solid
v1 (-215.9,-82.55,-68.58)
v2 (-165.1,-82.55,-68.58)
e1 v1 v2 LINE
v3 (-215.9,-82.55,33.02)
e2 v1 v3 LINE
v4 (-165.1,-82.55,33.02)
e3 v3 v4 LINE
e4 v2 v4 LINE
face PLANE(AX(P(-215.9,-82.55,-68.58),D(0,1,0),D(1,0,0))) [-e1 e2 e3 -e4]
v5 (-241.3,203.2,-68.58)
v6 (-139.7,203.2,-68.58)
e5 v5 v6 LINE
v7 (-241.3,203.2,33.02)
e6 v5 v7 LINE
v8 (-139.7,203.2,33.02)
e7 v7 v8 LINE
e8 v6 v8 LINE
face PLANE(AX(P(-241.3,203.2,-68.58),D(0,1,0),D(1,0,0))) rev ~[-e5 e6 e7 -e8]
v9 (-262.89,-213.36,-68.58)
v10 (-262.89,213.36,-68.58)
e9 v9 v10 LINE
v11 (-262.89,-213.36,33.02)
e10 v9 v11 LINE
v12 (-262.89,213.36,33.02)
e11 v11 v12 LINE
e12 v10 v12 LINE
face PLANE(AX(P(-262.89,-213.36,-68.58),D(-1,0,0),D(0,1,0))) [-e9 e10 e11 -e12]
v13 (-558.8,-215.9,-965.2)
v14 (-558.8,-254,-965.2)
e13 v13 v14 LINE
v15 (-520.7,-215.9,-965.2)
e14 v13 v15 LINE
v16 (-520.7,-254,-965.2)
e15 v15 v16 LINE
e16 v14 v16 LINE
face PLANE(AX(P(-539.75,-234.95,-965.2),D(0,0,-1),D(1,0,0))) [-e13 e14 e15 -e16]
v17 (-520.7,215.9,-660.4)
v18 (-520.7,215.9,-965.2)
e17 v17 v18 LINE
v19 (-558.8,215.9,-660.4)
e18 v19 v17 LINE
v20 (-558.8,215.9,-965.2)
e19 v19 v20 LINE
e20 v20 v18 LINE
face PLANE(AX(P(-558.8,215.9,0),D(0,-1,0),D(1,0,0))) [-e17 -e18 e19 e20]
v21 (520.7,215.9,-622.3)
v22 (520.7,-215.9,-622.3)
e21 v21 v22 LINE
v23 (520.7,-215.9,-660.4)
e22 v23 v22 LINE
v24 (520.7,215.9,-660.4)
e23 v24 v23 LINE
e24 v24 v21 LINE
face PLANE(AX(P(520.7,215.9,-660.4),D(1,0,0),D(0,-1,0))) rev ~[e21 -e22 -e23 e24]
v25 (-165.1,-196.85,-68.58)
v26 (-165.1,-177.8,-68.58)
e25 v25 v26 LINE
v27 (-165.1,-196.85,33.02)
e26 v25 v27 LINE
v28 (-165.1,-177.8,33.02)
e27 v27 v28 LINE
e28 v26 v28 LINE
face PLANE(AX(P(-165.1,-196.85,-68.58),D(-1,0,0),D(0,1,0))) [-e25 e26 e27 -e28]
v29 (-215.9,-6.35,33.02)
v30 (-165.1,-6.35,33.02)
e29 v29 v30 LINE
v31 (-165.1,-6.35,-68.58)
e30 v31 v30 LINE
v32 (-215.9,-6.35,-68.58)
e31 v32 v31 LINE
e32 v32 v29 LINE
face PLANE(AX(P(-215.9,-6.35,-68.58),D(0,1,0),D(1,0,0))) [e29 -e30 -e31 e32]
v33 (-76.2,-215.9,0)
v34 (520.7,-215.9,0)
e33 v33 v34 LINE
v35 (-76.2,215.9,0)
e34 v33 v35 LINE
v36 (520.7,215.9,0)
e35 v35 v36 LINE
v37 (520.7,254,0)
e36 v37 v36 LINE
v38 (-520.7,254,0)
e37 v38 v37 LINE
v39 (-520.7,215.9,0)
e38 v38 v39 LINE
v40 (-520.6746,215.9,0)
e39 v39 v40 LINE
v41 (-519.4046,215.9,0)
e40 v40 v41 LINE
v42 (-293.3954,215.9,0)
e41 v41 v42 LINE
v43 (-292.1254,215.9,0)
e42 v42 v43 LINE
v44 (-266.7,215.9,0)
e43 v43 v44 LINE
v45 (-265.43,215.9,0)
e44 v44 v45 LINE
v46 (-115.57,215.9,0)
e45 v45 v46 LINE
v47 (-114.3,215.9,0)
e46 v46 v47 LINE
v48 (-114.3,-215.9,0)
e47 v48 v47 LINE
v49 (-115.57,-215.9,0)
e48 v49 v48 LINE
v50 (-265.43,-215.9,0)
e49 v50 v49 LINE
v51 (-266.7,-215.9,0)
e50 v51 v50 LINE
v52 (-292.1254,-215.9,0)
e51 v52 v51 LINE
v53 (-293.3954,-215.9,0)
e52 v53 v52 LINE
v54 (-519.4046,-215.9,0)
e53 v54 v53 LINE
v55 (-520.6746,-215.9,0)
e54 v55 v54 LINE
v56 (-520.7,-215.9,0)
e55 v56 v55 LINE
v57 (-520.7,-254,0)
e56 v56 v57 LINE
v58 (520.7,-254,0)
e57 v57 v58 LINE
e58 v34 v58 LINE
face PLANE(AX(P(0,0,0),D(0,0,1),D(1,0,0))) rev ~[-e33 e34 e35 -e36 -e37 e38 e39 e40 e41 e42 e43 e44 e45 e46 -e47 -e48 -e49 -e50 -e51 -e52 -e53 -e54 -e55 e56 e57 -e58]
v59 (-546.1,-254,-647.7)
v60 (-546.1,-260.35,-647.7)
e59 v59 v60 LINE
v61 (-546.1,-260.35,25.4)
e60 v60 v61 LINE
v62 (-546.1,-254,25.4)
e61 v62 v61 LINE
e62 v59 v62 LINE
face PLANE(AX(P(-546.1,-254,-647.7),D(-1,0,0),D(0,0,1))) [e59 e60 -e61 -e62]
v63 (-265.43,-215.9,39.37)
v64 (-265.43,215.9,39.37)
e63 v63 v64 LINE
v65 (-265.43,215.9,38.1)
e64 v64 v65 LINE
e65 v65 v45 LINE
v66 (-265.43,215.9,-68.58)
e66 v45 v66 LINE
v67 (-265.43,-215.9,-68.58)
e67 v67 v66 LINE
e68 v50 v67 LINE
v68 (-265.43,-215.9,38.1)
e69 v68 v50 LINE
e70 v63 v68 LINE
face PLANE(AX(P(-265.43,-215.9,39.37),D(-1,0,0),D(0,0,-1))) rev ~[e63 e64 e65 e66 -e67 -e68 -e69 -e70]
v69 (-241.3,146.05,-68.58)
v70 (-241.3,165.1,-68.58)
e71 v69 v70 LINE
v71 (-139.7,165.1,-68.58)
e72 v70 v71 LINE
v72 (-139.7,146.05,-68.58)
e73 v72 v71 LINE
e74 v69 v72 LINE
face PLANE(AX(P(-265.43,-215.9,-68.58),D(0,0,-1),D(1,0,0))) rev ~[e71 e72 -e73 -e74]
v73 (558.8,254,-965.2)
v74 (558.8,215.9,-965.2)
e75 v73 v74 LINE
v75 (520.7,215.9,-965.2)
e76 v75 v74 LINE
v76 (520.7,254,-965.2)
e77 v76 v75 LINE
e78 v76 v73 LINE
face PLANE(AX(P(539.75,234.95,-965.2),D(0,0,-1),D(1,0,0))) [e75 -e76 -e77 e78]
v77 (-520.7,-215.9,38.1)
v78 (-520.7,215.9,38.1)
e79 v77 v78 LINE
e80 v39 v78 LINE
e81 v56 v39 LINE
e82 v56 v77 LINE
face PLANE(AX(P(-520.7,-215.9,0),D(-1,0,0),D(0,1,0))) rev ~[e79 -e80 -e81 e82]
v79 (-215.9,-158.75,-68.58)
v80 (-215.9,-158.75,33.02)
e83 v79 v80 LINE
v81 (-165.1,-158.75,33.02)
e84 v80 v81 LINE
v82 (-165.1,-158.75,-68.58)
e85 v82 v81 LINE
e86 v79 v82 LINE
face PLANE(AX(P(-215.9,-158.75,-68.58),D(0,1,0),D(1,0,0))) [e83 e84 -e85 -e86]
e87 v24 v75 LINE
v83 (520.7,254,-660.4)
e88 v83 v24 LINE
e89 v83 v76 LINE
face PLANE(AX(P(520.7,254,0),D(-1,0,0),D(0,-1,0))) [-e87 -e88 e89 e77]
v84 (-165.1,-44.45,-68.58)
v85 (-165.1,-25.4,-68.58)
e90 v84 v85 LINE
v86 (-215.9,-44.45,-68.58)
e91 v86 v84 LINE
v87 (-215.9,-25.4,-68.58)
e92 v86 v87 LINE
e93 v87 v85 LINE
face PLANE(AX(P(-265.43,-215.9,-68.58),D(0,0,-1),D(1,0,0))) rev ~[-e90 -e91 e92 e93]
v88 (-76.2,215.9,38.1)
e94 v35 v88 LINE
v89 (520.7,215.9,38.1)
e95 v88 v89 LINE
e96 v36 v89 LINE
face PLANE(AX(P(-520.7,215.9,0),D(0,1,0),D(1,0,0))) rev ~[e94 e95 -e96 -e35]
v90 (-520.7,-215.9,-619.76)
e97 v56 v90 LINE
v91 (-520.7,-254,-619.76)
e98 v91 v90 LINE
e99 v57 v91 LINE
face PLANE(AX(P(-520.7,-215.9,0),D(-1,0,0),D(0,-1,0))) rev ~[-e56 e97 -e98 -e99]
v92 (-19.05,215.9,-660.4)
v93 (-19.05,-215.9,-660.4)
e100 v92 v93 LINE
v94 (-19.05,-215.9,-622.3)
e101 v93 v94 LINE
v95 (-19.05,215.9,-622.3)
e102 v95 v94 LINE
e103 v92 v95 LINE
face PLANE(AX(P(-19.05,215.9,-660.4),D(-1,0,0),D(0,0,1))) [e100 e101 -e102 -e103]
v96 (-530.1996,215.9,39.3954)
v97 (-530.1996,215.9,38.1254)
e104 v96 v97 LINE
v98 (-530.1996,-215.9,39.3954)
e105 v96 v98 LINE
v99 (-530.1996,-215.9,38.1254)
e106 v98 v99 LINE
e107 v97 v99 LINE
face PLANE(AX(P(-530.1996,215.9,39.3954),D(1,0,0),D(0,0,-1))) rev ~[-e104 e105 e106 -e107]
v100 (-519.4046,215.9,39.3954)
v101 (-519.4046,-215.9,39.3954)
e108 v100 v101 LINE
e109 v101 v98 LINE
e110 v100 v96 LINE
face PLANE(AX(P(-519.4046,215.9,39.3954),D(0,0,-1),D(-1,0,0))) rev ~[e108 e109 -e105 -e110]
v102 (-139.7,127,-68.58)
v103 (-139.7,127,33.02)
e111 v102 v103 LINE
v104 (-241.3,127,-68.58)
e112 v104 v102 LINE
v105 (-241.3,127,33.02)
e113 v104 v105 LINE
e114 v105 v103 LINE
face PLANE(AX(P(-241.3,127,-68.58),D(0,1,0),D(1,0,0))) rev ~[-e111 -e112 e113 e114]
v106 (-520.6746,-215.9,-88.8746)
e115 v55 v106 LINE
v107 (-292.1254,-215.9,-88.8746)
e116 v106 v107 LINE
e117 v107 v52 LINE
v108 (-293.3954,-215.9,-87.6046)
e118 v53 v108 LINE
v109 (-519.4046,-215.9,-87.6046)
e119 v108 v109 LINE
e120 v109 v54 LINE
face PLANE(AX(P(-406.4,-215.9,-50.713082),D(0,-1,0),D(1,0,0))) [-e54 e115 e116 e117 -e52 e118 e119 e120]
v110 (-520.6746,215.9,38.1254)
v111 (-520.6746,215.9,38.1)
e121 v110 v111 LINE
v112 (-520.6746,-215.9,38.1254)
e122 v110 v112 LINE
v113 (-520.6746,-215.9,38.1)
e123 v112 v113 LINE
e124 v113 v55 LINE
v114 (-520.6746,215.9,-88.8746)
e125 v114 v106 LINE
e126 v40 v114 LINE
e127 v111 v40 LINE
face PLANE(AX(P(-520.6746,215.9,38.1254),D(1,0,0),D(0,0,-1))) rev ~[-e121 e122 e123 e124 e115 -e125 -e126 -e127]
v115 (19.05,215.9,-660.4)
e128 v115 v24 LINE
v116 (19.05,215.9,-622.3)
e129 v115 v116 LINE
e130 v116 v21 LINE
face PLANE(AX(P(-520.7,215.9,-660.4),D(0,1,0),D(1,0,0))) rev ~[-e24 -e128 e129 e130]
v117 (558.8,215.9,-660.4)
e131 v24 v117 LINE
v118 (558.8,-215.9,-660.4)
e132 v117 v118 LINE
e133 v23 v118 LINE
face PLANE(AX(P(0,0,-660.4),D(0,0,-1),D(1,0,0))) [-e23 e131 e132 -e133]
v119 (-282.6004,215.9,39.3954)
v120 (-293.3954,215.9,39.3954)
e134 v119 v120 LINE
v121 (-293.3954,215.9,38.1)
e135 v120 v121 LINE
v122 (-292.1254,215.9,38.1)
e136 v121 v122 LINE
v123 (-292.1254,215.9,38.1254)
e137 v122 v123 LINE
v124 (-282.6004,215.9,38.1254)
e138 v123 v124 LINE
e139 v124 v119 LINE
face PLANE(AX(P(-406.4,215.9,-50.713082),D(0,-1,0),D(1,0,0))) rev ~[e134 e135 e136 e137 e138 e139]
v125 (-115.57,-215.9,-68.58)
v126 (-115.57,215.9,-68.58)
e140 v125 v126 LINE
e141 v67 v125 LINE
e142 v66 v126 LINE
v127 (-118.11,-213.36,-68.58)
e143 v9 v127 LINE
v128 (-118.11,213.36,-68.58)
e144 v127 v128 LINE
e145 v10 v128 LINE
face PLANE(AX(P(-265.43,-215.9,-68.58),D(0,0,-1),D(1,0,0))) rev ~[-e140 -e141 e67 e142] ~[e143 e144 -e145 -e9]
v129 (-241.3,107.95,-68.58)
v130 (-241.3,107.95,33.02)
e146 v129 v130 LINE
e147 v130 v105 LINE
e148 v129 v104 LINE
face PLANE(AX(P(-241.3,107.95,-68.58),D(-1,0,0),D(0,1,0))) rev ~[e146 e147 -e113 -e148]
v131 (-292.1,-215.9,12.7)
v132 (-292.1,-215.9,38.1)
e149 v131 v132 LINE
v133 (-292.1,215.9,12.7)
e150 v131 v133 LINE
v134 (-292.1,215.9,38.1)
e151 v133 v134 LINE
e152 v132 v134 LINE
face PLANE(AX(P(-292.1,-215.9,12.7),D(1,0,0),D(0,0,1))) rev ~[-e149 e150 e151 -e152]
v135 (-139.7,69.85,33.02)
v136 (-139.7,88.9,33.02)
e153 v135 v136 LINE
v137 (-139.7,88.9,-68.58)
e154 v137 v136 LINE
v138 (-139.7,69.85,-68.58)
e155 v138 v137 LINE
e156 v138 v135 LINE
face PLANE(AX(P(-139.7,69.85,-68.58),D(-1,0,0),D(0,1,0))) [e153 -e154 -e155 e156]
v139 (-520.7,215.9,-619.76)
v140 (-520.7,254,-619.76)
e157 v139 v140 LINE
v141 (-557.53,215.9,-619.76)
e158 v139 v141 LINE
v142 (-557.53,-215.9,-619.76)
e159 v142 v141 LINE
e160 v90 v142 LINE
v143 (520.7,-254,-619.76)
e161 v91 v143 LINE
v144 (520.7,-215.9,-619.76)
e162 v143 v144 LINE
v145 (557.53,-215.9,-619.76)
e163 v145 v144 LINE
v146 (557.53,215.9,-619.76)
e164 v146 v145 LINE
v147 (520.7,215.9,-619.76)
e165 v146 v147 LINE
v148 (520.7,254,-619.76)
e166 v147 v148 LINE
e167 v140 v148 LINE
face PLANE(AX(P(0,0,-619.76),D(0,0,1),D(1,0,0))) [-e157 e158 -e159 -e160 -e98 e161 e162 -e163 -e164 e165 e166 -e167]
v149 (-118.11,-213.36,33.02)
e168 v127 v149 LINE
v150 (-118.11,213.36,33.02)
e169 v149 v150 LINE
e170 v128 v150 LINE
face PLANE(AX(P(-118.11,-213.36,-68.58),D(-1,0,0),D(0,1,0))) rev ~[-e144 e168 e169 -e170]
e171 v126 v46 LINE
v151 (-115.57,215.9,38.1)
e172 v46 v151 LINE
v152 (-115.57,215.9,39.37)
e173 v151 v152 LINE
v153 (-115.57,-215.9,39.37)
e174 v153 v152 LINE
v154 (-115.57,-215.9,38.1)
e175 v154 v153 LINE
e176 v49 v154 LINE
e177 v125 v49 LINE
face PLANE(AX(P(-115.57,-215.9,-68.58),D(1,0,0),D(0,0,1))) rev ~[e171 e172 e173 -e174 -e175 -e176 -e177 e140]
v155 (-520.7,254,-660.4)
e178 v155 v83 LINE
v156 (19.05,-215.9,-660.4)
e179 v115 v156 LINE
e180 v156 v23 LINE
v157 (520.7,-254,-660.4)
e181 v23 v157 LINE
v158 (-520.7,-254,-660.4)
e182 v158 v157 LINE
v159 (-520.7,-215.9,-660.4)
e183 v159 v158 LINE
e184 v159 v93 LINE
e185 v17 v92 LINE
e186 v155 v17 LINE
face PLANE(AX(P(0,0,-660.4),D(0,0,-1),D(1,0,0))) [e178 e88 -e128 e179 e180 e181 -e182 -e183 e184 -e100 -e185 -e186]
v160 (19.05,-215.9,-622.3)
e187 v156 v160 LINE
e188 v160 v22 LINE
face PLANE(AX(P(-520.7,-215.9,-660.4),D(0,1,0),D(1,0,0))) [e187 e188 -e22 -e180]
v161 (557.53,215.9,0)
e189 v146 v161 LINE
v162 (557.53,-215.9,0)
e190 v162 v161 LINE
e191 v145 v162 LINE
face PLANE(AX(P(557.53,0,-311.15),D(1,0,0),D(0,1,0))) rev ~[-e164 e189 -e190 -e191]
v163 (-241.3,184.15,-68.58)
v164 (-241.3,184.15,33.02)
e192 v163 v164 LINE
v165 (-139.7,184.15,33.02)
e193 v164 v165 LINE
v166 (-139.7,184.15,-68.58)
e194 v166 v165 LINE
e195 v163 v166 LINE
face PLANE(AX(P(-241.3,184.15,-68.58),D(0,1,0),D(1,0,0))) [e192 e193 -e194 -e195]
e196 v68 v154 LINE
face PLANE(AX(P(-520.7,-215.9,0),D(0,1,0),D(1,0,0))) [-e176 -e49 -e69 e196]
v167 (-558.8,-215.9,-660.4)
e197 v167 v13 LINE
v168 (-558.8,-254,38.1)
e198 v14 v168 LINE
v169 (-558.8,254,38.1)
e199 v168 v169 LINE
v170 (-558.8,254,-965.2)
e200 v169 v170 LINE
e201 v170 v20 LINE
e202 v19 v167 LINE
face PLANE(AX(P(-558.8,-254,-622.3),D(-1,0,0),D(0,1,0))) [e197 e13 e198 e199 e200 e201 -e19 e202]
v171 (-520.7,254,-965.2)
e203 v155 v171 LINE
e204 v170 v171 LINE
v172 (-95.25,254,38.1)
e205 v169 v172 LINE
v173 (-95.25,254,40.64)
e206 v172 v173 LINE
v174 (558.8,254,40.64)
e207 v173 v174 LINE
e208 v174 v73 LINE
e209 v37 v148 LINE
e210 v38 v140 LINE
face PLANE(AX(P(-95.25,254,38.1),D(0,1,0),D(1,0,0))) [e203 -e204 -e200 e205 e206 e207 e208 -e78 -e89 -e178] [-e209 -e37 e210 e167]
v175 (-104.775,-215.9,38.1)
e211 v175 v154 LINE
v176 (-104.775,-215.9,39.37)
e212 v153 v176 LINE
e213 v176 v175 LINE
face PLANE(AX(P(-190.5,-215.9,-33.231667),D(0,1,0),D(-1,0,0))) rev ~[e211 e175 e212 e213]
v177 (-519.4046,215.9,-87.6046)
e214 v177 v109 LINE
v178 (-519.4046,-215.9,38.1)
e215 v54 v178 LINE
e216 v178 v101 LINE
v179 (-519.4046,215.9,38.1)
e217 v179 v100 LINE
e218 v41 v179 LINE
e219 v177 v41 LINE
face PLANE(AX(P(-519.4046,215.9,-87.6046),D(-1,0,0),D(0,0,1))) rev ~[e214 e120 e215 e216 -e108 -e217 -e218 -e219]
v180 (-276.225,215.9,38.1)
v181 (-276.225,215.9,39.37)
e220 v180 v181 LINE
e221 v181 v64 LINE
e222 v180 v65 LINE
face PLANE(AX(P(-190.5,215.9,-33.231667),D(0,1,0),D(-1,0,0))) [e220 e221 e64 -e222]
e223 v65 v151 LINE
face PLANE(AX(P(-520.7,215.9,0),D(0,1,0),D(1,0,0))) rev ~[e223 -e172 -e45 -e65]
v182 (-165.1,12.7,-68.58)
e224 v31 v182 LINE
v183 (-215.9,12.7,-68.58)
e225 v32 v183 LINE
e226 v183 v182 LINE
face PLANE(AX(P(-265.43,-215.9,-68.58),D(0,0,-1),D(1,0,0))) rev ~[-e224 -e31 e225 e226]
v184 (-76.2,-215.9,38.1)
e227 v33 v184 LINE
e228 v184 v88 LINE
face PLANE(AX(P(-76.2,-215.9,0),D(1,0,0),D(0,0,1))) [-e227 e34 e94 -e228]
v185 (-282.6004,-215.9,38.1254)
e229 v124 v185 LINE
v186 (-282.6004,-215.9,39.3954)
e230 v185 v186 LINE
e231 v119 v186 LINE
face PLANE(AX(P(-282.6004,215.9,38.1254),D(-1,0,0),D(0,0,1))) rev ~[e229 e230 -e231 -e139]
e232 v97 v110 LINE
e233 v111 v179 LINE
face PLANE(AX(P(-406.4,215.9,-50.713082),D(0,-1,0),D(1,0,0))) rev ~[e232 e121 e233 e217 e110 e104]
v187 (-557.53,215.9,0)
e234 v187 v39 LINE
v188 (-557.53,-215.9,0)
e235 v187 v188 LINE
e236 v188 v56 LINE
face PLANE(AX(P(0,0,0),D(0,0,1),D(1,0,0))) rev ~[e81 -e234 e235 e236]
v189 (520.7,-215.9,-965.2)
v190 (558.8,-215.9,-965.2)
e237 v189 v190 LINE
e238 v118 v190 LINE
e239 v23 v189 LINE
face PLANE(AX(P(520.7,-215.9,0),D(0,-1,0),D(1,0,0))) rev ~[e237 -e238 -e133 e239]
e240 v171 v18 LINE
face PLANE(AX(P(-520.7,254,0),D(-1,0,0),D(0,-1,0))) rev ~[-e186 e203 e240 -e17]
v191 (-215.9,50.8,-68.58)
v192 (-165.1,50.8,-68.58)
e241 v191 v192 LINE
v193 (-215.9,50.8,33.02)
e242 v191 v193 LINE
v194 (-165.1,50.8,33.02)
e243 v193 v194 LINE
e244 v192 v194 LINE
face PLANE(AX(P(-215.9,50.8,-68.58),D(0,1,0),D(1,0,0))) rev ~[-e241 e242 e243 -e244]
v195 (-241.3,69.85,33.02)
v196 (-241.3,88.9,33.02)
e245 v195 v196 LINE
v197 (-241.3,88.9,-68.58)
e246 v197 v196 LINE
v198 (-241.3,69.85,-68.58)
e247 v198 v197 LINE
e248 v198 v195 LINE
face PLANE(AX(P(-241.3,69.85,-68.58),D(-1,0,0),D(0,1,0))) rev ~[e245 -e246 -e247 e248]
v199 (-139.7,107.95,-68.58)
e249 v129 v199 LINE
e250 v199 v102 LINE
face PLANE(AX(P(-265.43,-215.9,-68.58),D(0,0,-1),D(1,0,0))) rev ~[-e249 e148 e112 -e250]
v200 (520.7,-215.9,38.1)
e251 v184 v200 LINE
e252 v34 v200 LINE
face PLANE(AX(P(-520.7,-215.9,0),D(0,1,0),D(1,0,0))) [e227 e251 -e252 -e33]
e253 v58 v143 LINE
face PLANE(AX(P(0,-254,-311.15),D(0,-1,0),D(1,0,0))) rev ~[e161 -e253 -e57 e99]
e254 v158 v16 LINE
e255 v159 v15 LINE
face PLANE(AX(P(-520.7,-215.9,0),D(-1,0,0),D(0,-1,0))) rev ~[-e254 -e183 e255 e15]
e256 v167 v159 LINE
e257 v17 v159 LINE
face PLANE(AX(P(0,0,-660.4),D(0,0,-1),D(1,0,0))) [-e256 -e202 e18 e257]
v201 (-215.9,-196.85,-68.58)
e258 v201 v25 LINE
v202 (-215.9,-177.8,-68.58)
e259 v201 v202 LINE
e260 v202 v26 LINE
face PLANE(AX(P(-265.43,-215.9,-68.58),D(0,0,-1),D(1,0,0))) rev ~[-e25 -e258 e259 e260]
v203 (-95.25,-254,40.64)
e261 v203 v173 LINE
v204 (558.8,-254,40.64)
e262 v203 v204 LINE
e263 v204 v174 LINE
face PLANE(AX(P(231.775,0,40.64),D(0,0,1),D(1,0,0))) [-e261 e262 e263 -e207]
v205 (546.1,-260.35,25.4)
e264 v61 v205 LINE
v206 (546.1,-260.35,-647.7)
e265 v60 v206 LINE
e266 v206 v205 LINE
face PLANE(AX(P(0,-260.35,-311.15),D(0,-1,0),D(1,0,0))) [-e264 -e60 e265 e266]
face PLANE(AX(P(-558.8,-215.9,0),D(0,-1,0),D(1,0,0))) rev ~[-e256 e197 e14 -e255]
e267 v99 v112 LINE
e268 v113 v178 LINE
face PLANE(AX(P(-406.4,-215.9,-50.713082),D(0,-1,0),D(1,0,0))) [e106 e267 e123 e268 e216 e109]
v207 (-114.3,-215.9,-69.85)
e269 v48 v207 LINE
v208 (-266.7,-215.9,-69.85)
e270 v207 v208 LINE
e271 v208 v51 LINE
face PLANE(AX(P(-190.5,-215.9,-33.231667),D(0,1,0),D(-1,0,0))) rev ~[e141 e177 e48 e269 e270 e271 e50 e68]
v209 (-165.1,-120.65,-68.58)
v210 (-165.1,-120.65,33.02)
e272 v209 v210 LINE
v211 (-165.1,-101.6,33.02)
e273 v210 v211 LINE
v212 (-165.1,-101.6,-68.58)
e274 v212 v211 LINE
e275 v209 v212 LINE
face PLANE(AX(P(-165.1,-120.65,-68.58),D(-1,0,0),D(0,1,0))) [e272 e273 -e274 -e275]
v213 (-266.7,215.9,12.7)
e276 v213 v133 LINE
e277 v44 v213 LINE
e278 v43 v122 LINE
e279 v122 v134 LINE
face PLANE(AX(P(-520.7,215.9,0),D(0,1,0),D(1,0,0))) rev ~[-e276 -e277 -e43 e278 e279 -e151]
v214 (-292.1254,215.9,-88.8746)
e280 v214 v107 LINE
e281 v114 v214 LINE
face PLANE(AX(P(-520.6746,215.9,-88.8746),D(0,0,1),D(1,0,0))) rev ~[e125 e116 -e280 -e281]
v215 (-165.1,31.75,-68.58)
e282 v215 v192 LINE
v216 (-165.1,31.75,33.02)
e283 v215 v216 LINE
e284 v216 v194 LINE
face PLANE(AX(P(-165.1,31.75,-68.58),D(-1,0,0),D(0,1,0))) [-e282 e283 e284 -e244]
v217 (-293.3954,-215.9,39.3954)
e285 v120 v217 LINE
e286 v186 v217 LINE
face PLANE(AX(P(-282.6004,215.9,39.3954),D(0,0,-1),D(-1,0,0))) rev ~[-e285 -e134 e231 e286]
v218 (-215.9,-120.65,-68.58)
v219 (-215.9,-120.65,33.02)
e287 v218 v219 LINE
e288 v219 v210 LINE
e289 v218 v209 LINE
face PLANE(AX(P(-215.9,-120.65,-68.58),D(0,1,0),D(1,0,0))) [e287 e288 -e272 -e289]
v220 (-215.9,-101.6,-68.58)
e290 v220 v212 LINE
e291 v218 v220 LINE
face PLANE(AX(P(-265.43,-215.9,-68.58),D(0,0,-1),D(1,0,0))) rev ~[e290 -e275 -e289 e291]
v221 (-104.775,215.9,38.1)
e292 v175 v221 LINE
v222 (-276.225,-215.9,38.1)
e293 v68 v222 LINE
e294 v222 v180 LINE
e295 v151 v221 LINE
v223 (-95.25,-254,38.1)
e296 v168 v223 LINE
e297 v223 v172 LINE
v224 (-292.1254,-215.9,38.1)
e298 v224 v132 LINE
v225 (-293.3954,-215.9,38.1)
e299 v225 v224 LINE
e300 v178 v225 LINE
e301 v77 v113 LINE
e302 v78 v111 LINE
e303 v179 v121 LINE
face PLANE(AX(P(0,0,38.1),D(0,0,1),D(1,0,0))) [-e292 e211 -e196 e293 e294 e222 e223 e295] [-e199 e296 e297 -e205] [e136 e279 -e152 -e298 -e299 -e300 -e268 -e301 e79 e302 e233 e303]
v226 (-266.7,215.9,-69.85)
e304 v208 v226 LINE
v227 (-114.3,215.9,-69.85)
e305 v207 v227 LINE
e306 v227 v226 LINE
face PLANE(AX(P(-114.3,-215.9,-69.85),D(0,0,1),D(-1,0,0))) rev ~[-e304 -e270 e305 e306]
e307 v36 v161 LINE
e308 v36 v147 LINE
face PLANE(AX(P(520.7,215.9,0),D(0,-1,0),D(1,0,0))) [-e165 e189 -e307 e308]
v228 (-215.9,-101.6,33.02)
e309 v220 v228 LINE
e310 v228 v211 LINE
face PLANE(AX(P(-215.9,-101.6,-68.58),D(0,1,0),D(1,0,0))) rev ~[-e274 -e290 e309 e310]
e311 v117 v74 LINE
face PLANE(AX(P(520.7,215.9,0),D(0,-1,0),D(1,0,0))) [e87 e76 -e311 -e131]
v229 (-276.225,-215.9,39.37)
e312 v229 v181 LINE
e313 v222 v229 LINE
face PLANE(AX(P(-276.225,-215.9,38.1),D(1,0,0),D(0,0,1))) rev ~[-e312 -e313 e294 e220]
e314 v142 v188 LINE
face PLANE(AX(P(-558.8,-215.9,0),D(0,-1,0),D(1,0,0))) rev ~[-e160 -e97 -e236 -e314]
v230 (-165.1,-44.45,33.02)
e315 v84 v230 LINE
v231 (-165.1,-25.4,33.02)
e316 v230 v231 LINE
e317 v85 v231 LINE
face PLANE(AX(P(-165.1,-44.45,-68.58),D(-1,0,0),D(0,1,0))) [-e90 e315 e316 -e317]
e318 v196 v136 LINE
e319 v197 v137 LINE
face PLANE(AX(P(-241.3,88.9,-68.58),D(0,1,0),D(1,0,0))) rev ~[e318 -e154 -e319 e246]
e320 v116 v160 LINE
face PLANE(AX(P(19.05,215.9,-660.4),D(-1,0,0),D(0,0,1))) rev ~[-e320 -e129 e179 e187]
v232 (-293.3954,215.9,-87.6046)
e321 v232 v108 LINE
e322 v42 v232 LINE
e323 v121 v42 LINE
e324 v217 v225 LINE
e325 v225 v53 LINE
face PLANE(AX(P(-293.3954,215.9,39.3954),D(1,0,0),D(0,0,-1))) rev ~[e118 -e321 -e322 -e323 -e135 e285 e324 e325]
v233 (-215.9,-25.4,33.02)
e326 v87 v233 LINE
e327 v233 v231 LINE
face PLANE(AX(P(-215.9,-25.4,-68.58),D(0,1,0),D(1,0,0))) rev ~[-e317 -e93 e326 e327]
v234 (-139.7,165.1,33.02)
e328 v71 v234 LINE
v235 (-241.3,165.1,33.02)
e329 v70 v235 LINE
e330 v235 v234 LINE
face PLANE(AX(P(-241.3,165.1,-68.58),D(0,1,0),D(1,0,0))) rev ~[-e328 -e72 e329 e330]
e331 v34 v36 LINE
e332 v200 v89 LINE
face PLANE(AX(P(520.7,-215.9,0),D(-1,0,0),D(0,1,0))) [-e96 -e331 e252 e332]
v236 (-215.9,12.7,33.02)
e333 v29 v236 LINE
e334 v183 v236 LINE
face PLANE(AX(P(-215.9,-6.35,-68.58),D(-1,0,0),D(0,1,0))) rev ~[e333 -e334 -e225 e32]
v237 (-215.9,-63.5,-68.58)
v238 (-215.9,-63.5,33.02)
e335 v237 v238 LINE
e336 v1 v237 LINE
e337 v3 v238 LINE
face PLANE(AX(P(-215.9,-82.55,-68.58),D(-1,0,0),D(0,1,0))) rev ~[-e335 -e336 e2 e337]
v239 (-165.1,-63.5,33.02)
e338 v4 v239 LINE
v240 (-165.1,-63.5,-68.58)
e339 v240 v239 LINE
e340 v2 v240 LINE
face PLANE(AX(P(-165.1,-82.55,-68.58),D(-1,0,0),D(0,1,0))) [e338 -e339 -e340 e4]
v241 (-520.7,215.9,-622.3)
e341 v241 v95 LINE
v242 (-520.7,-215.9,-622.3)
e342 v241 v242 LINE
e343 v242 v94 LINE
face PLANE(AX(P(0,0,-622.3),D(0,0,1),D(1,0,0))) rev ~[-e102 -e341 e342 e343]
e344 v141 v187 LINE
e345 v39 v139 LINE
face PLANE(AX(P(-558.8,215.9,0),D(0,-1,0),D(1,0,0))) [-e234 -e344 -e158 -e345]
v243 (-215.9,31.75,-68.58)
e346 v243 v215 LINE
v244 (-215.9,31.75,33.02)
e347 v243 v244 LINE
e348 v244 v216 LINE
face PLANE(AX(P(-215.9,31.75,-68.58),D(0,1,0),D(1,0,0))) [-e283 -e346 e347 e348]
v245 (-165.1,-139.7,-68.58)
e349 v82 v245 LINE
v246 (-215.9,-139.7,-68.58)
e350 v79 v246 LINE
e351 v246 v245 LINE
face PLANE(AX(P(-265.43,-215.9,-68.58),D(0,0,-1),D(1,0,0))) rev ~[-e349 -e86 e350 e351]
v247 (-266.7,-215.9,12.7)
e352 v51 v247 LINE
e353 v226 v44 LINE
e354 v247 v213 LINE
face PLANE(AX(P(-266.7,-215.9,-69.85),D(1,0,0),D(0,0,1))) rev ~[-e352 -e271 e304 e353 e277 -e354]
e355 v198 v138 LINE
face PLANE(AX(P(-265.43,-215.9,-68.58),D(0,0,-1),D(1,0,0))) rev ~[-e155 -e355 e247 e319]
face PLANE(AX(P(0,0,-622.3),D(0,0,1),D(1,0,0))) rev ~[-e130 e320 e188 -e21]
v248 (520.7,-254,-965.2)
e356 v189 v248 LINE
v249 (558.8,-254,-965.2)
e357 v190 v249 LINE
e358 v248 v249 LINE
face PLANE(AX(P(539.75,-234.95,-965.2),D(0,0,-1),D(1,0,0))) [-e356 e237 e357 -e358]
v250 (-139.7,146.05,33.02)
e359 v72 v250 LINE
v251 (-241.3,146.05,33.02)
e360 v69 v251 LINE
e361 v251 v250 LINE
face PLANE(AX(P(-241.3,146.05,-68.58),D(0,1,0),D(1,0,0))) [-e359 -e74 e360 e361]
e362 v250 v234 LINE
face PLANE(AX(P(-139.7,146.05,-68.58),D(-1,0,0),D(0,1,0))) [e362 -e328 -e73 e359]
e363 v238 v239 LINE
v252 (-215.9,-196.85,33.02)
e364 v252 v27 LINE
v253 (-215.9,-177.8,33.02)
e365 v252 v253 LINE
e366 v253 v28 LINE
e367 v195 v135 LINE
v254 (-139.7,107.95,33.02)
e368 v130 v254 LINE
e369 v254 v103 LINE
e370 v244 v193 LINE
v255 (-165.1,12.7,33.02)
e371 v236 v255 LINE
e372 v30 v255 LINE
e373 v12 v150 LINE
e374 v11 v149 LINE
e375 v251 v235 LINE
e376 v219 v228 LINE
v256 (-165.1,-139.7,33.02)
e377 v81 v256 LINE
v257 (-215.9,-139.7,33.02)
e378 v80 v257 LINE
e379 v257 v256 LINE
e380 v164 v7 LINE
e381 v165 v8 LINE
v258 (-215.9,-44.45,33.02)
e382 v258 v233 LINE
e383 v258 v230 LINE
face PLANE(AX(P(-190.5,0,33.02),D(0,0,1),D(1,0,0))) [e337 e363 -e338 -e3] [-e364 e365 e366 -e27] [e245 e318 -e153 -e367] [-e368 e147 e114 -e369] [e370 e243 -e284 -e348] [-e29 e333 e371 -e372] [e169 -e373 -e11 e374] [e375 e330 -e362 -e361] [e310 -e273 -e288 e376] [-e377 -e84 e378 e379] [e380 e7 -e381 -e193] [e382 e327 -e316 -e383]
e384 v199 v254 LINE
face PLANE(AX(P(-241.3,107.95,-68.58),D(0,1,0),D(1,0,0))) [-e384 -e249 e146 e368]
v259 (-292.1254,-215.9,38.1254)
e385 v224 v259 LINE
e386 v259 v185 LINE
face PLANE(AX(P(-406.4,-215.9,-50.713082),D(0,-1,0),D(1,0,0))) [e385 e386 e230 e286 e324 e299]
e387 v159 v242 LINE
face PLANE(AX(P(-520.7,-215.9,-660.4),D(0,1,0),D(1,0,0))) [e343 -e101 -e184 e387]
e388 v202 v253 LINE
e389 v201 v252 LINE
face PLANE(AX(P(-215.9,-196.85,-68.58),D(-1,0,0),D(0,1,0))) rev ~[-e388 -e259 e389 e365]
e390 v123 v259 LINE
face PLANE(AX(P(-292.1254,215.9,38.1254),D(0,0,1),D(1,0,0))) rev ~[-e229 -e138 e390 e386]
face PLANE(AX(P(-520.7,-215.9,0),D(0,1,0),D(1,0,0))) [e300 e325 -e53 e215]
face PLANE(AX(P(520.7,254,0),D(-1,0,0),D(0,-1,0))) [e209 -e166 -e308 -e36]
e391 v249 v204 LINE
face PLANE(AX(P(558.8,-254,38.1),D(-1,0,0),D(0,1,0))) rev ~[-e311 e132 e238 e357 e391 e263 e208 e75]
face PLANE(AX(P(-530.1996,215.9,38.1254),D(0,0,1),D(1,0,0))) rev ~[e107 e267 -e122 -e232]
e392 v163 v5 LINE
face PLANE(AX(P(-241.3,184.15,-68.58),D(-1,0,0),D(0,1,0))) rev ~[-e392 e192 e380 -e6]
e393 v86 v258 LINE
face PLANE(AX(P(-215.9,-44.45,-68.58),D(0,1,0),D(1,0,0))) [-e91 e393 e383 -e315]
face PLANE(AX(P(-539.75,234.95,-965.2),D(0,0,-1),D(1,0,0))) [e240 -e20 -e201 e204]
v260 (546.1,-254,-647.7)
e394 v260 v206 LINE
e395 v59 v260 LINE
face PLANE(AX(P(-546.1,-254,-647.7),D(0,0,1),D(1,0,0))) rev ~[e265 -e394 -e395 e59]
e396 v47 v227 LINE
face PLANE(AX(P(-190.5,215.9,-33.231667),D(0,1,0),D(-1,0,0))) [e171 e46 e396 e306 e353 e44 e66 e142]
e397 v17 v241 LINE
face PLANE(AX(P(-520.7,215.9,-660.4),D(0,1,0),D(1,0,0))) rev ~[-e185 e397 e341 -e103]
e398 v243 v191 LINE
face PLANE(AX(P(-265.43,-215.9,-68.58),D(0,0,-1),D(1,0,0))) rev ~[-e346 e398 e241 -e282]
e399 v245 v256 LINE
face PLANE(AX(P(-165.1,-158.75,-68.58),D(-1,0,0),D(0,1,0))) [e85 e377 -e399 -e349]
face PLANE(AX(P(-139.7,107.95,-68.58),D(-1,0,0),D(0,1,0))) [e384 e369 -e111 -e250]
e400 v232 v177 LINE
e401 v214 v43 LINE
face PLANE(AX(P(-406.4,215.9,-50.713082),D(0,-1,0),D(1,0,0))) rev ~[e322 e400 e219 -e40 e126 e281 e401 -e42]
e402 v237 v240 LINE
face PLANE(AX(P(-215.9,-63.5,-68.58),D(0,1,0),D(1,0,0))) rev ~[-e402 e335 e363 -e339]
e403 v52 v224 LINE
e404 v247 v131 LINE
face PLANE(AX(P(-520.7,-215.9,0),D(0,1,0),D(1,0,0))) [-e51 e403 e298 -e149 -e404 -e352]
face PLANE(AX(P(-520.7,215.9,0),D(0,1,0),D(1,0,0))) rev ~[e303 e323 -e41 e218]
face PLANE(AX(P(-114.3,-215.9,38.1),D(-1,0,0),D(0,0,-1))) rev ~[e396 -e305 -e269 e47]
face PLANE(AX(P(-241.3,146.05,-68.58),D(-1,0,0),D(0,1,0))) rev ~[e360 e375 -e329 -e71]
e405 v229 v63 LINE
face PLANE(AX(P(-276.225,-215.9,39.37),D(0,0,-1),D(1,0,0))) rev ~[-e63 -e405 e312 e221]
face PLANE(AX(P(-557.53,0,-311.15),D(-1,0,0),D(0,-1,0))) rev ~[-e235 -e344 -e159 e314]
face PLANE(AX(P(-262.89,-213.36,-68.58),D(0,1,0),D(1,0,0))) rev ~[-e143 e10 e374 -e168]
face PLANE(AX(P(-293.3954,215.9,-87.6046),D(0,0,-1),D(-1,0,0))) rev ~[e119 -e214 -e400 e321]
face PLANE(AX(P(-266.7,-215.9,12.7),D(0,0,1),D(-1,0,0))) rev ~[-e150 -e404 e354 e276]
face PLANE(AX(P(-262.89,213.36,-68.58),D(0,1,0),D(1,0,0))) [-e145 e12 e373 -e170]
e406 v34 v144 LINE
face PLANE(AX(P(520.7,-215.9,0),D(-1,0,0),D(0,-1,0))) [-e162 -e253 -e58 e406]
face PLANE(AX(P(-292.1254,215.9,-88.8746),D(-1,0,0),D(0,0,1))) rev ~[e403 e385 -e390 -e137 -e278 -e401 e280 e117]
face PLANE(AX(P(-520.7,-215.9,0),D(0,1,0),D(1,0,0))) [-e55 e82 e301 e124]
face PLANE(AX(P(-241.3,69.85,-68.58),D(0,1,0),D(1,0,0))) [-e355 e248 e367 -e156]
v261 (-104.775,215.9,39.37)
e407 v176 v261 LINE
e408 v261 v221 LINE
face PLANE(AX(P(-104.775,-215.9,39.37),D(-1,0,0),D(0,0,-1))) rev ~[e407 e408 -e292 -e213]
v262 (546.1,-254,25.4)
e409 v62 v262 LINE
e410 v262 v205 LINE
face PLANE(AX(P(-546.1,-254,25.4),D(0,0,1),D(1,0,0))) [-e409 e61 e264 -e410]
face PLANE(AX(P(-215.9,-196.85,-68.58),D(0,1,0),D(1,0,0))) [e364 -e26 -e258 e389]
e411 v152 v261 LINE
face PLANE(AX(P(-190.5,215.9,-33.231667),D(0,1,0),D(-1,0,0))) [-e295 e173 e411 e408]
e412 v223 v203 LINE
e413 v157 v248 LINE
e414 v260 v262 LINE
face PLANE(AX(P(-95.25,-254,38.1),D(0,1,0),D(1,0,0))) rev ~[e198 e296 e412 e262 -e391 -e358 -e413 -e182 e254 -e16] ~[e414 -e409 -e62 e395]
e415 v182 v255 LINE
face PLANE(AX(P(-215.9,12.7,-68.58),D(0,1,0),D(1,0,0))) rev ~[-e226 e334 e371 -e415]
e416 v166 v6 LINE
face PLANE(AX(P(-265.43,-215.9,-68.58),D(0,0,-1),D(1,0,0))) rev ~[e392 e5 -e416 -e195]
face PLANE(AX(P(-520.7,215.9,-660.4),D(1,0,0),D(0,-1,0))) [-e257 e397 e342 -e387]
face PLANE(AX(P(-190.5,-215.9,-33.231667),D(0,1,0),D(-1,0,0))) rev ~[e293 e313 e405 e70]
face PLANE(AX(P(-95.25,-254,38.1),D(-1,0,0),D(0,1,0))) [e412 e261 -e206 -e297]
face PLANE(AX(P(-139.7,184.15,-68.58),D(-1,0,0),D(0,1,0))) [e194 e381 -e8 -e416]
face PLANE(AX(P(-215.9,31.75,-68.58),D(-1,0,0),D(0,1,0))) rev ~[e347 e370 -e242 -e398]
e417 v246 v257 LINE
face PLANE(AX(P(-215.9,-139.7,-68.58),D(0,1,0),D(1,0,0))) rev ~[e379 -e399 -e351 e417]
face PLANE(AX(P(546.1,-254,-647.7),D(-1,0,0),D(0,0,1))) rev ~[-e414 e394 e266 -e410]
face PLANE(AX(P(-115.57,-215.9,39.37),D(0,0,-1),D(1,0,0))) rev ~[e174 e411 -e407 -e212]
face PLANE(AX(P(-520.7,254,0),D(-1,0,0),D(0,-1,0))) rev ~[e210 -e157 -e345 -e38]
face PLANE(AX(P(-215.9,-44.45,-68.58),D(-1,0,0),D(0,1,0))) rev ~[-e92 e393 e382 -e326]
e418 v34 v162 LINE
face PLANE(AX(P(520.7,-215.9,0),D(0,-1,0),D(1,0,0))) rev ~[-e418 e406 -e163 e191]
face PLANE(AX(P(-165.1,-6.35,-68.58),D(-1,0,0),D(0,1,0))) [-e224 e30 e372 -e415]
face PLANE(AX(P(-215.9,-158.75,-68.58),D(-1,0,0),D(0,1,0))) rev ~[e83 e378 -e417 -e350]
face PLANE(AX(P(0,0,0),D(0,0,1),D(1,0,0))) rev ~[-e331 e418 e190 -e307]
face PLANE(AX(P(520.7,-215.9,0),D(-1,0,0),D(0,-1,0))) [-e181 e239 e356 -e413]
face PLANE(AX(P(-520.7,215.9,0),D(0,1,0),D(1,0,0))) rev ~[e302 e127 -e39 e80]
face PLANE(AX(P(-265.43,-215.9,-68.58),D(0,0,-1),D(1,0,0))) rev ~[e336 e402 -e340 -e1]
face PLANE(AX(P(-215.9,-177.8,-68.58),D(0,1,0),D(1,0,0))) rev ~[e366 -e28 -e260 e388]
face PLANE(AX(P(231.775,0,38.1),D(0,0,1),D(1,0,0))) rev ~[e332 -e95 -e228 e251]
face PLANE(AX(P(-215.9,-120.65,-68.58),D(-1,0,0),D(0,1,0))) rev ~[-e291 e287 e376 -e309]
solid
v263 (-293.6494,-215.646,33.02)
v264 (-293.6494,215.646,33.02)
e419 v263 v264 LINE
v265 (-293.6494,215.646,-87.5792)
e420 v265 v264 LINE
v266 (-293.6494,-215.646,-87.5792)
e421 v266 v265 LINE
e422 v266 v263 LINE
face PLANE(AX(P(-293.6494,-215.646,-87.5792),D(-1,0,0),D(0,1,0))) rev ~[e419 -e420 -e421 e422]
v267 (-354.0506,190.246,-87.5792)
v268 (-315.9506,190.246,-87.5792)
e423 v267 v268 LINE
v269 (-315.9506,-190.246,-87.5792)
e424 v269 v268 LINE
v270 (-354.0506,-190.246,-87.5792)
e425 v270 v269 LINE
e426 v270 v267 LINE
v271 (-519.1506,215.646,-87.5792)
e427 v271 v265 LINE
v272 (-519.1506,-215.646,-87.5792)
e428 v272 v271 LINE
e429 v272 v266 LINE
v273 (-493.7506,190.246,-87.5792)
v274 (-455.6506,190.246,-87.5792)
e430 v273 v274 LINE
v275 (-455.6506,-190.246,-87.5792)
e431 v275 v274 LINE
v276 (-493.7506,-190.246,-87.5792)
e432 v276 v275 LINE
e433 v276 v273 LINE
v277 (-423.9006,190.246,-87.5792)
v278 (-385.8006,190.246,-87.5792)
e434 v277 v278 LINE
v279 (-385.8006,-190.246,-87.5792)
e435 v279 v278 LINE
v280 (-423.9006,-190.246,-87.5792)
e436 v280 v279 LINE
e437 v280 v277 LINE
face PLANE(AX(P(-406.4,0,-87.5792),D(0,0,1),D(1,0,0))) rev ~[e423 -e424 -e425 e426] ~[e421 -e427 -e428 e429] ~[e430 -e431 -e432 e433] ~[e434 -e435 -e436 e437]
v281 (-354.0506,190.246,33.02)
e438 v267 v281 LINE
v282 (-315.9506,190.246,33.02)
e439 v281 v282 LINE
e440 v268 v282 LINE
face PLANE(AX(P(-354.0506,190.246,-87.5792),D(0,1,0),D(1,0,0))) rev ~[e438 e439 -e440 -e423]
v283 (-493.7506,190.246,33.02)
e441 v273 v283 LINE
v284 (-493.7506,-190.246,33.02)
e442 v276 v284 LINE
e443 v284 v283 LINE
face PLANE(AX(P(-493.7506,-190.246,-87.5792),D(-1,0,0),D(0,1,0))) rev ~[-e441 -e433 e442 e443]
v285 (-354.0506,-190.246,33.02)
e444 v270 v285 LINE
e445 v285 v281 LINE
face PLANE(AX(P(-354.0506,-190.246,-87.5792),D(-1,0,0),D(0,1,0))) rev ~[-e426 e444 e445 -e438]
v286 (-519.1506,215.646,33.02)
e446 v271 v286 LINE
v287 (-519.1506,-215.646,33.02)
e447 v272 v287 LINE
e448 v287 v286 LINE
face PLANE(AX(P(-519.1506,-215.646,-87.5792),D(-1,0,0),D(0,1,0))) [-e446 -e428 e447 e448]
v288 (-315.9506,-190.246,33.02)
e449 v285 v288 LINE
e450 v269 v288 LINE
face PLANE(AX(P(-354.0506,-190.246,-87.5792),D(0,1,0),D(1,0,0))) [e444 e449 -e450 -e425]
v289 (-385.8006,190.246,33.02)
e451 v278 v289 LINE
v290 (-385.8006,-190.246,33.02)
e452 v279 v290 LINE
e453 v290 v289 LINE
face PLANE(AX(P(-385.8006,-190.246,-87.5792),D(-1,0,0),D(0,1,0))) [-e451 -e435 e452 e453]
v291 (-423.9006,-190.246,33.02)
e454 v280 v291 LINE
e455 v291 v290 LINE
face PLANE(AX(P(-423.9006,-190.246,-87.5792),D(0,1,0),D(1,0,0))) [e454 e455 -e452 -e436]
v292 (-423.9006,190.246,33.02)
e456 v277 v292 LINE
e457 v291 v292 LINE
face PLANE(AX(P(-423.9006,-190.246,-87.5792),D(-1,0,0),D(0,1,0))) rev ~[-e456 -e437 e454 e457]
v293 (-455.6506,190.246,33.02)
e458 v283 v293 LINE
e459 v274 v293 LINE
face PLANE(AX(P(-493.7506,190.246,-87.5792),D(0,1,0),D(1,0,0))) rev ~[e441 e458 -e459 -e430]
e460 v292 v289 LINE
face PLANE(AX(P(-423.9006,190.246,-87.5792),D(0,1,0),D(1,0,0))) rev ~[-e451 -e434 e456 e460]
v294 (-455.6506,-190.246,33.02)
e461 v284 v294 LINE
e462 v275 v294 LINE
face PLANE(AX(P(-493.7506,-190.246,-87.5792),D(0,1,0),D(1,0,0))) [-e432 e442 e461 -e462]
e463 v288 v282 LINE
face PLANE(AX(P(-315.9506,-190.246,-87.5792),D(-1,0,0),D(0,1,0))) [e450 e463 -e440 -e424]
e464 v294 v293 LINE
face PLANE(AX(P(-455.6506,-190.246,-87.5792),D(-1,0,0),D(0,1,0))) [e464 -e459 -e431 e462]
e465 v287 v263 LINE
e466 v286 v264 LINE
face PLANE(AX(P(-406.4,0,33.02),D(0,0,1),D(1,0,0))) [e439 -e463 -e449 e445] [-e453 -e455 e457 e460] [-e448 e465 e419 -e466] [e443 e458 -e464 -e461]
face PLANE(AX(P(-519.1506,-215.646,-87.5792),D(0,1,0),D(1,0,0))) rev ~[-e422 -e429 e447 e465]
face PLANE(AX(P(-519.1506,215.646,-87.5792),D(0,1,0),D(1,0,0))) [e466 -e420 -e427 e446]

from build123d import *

# Parameters (mm, degrees)
F0_W      = 1117.6
F0_H      = 508
F0_W_2    = 1041.4
F0_H_2    = 431.8
F1_DEPTH  = 38.1
F2_W      = 38.1
F2_H      = 38.1
F3_DEPTH  = 965.2
F5_W      = 1117.6
F5_H      = 508
F5_W_2    = 1041.4
F5_H_2    = 431.8
F6_DEPTH  = 38.1
F7_W      = 431.8
F7_H      = 622.3
F8_DEPTH  = 1.27
F9_W      = 431.8
F9_H      = 622.3
F10_DEPTH = 1.27
F11_W     = 38.1
F11_H     = 38.1
F11_W_2   = 25.4
F11_H_2   = 25.4
F12_DEPTH = 431.8
F13_W     = 654.05
F13_H     = 508
F14_DEPTH = 2.54
F16_DEPTH = 431.8
F17_W     = 144.78
F17_H     = 426.72
F17_W_2   = 50.8
F17_H_2   = 19.05
F17_W_3   = 101.6
F18_DEPTH = 101.6
F19_W     = 1117.6
F19_H     = 508
F20_DEPTH = 2.54
F21_W     = 38.1
F21_H     = 38.1
F22_DEPTH = 431.8
F23_W     = 1092.2
F23_H     = 673.1
F24_DEPTH = 6.35
F27_DEPTH = 431.8
F29_W     = 225.5012
F29_H     = 431.292
F29_W_2   = 38.1
F29_H_2   = 380.492
F30_DEPTH = 120.5992


with BuildPart() as f1:
    # F0 (on Top) → F1 (new body)
    with BuildSketch(Plane.XY):
        Rectangle(F0_W, F0_H)
        Rectangle(F0_W_2, F0_H_2, mode=Mode.SUBTRACT)
    extrude(amount=F1_DEPTH)

    # F2 (on face) → F3 (join)
    with BuildSketch(Plane(origin=(0, 0, 0), x_dir=(1, 0, 0), z_dir=(0, 0, -1))):
        with Locations((-539.75, 234.95)):
            Rectangle(F2_W, F2_H)
        with Locations((539.75, 234.95)):
            Rectangle(F2_W, F2_H)
        with Locations((539.75, -234.95)):
            Rectangle(F2_W, F2_H)
        with Locations((-539.75, -234.95)):
            Rectangle(F2_W, F2_H)
    extrude(amount=F3_DEPTH)

    # F5 (on offset) → F6 (join)
    with BuildSketch(Plane(origin=(0, 0, -660.4), x_dir=(1, 0, 0), z_dir=(0, 0, -1))):
        Rectangle(F5_W, F5_H)
        Rectangle(F5_W_2, F5_H_2, mode=Mode.SUBTRACT)
    extrude(amount=-F6_DEPTH)

    # F7 (on face) → F8 (join)
    with BuildSketch(Plane(origin=(-558.8, 0, 0), x_dir=(0, -1, 0), z_dir=(-1, 0, 0))):
        with Locations((0, -311.15)):
            Rectangle(F7_W, F7_H)
    extrude(amount=-F8_DEPTH)

    # F9 (on face) → F10 (join)
    with BuildSketch(Plane.YZ.offset(558.8)):
        with Locations((0, -311.15)):
            Rectangle(F9_W, F9_H)
    extrude(amount=-F10_DEPTH)

    # F11 (on face) → F12 (join, through all)
    with BuildSketch(Plane(origin=(0, -215.9, 0), x_dir=(-1, 0, 0), z_dir=(0, 1, 0))):
        with Locations((95.25, 19.05)):
            Rectangle(F11_W, F11_H)
        with Locations((279.4, 25.4)):
            Rectangle(F11_W_2, F11_H_2)
    extrude(amount=F12_DEPTH)

    # F13 (on face) → F14 (join)
    with BuildSketch(Plane.XY.offset(38.1)):
        with Locations((231.775, 0)):
            Rectangle(F13_W, F13_H)
    extrude(amount=F14_DEPTH)

    # F15 (on face) → F16 (join, through all)
    with BuildSketch(Plane(origin=(0, -215.9, 0), x_dir=(-1, 0, 0), z_dir=(0, 1, 0))):
        Polygon((104.775, 39.37), (104.775, 38.1), (114.3, 38.1), (114.3, -69.85), (266.7, -69.85), (266.7, 38.1), (276.225, 38.1), (276.225, 39.37), (265.43, 39.37), (265.43, -68.58), (115.57, -68.58), (115.57, 39.37), align=None)
    extrude(amount=F16_DEPTH)

    # F17 (on face) → F18 (join)
    with BuildSketch(Plane.XY.offset(-68.58)):
        with Locations((-190.5, 0)):
            Rectangle(F17_W, F17_H)
        with Locations((-190.5, -187.325)):
            Rectangle(F17_W_2, F17_H_2, mode=Mode.SUBTRACT)
        with Locations((-190.5, -149.225)):
            Rectangle(F17_W_2, F17_H_2, mode=Mode.SUBTRACT)
        with Locations((-190.5, -111.125)):
            Rectangle(F17_W_2, F17_H_2, mode=Mode.SUBTRACT)
        with Locations((-190.5, -73.025)):
            Rectangle(F17_W_2, F17_H_2, mode=Mode.SUBTRACT)
        with Locations((-190.5, -34.925)):
            Rectangle(F17_W_2, F17_H_2, mode=Mode.SUBTRACT)
        with Locations((-190.5, 3.175)):
            Rectangle(F17_W_2, F17_H_2, mode=Mode.SUBTRACT)
        with Locations((-190.5, 41.275)):
            Rectangle(F17_W_2, F17_H_2, mode=Mode.SUBTRACT)
        with Locations((-190.5, 79.375)):
            Rectangle(F17_W_3, F17_H_2, mode=Mode.SUBTRACT)
        with Locations((-190.5, 117.475)):
            Rectangle(F17_W_3, F17_H_2, mode=Mode.SUBTRACT)
        with Locations((-190.5, 155.575)):
            Rectangle(F17_W_3, F17_H_2, mode=Mode.SUBTRACT)
        with Locations((-190.5, 193.675)):
            Rectangle(F17_W_3, F17_H_2, mode=Mode.SUBTRACT)
    extrude(amount=F18_DEPTH)

    # F19 (on face) → F20 (join)
    with BuildSketch(Plane.XY.offset(-622.3)):
        Rectangle(F19_W, F19_H)
    extrude(amount=F20_DEPTH)

    # F21 (on face) → F22 (join, through all)
    with BuildSketch(Plane.XZ.offset(-215.9)):
        with Locations((0, -641.35)):
            Rectangle(F21_W, F21_H)
    extrude(amount=F22_DEPTH)

    # F23 (on face) → F24 (join)
    with BuildSketch(Plane.XZ.offset(254)):
        with Locations((0, -311.15)):
            Rectangle(F23_W, F23_H)
    extrude(amount=F24_DEPTH)

    # F26 (on face) → F27 (join, through all)
    with BuildSketch(Plane.XZ.offset(-215.9)):
        Polygon((-530.1996, 39.3954), (-530.1996, 38.1254), (-520.6746, 38.1254), (-520.6746, -88.8746), (-292.1254, -88.8746), (-292.1254, 38.1254), (-282.6004, 38.1254), (-282.6004, 39.3954), (-293.3954, 39.3954), (-293.3954, -87.6046), (-519.4046, -87.6046), (-519.4046, 39.3954), align=None)
    extrude(amount=F27_DEPTH)


with BuildPart() as f30:
    # F29 (on offset) → F30 (new body, through all)
    with BuildSketch(Plane.XY.offset(-87.5792)):
        with Locations((-406.4, 0)):
            Rectangle(F29_W, F29_H)
        with Locations((-474.7006, 0)):
            Rectangle(F29_W_2, F29_H_2, mode=Mode.SUBTRACT)
        with Locations((-404.8506, 0)):
            Rectangle(F29_W_2, F29_H_2, mode=Mode.SUBTRACT)
        with Locations((-335.0006, 0)):
            Rectangle(F29_W_2, F29_H_2, mode=Mode.SUBTRACT)
    extrude(amount=F30_DEPTH)


solid = Compound([f1.part, f30.part])
